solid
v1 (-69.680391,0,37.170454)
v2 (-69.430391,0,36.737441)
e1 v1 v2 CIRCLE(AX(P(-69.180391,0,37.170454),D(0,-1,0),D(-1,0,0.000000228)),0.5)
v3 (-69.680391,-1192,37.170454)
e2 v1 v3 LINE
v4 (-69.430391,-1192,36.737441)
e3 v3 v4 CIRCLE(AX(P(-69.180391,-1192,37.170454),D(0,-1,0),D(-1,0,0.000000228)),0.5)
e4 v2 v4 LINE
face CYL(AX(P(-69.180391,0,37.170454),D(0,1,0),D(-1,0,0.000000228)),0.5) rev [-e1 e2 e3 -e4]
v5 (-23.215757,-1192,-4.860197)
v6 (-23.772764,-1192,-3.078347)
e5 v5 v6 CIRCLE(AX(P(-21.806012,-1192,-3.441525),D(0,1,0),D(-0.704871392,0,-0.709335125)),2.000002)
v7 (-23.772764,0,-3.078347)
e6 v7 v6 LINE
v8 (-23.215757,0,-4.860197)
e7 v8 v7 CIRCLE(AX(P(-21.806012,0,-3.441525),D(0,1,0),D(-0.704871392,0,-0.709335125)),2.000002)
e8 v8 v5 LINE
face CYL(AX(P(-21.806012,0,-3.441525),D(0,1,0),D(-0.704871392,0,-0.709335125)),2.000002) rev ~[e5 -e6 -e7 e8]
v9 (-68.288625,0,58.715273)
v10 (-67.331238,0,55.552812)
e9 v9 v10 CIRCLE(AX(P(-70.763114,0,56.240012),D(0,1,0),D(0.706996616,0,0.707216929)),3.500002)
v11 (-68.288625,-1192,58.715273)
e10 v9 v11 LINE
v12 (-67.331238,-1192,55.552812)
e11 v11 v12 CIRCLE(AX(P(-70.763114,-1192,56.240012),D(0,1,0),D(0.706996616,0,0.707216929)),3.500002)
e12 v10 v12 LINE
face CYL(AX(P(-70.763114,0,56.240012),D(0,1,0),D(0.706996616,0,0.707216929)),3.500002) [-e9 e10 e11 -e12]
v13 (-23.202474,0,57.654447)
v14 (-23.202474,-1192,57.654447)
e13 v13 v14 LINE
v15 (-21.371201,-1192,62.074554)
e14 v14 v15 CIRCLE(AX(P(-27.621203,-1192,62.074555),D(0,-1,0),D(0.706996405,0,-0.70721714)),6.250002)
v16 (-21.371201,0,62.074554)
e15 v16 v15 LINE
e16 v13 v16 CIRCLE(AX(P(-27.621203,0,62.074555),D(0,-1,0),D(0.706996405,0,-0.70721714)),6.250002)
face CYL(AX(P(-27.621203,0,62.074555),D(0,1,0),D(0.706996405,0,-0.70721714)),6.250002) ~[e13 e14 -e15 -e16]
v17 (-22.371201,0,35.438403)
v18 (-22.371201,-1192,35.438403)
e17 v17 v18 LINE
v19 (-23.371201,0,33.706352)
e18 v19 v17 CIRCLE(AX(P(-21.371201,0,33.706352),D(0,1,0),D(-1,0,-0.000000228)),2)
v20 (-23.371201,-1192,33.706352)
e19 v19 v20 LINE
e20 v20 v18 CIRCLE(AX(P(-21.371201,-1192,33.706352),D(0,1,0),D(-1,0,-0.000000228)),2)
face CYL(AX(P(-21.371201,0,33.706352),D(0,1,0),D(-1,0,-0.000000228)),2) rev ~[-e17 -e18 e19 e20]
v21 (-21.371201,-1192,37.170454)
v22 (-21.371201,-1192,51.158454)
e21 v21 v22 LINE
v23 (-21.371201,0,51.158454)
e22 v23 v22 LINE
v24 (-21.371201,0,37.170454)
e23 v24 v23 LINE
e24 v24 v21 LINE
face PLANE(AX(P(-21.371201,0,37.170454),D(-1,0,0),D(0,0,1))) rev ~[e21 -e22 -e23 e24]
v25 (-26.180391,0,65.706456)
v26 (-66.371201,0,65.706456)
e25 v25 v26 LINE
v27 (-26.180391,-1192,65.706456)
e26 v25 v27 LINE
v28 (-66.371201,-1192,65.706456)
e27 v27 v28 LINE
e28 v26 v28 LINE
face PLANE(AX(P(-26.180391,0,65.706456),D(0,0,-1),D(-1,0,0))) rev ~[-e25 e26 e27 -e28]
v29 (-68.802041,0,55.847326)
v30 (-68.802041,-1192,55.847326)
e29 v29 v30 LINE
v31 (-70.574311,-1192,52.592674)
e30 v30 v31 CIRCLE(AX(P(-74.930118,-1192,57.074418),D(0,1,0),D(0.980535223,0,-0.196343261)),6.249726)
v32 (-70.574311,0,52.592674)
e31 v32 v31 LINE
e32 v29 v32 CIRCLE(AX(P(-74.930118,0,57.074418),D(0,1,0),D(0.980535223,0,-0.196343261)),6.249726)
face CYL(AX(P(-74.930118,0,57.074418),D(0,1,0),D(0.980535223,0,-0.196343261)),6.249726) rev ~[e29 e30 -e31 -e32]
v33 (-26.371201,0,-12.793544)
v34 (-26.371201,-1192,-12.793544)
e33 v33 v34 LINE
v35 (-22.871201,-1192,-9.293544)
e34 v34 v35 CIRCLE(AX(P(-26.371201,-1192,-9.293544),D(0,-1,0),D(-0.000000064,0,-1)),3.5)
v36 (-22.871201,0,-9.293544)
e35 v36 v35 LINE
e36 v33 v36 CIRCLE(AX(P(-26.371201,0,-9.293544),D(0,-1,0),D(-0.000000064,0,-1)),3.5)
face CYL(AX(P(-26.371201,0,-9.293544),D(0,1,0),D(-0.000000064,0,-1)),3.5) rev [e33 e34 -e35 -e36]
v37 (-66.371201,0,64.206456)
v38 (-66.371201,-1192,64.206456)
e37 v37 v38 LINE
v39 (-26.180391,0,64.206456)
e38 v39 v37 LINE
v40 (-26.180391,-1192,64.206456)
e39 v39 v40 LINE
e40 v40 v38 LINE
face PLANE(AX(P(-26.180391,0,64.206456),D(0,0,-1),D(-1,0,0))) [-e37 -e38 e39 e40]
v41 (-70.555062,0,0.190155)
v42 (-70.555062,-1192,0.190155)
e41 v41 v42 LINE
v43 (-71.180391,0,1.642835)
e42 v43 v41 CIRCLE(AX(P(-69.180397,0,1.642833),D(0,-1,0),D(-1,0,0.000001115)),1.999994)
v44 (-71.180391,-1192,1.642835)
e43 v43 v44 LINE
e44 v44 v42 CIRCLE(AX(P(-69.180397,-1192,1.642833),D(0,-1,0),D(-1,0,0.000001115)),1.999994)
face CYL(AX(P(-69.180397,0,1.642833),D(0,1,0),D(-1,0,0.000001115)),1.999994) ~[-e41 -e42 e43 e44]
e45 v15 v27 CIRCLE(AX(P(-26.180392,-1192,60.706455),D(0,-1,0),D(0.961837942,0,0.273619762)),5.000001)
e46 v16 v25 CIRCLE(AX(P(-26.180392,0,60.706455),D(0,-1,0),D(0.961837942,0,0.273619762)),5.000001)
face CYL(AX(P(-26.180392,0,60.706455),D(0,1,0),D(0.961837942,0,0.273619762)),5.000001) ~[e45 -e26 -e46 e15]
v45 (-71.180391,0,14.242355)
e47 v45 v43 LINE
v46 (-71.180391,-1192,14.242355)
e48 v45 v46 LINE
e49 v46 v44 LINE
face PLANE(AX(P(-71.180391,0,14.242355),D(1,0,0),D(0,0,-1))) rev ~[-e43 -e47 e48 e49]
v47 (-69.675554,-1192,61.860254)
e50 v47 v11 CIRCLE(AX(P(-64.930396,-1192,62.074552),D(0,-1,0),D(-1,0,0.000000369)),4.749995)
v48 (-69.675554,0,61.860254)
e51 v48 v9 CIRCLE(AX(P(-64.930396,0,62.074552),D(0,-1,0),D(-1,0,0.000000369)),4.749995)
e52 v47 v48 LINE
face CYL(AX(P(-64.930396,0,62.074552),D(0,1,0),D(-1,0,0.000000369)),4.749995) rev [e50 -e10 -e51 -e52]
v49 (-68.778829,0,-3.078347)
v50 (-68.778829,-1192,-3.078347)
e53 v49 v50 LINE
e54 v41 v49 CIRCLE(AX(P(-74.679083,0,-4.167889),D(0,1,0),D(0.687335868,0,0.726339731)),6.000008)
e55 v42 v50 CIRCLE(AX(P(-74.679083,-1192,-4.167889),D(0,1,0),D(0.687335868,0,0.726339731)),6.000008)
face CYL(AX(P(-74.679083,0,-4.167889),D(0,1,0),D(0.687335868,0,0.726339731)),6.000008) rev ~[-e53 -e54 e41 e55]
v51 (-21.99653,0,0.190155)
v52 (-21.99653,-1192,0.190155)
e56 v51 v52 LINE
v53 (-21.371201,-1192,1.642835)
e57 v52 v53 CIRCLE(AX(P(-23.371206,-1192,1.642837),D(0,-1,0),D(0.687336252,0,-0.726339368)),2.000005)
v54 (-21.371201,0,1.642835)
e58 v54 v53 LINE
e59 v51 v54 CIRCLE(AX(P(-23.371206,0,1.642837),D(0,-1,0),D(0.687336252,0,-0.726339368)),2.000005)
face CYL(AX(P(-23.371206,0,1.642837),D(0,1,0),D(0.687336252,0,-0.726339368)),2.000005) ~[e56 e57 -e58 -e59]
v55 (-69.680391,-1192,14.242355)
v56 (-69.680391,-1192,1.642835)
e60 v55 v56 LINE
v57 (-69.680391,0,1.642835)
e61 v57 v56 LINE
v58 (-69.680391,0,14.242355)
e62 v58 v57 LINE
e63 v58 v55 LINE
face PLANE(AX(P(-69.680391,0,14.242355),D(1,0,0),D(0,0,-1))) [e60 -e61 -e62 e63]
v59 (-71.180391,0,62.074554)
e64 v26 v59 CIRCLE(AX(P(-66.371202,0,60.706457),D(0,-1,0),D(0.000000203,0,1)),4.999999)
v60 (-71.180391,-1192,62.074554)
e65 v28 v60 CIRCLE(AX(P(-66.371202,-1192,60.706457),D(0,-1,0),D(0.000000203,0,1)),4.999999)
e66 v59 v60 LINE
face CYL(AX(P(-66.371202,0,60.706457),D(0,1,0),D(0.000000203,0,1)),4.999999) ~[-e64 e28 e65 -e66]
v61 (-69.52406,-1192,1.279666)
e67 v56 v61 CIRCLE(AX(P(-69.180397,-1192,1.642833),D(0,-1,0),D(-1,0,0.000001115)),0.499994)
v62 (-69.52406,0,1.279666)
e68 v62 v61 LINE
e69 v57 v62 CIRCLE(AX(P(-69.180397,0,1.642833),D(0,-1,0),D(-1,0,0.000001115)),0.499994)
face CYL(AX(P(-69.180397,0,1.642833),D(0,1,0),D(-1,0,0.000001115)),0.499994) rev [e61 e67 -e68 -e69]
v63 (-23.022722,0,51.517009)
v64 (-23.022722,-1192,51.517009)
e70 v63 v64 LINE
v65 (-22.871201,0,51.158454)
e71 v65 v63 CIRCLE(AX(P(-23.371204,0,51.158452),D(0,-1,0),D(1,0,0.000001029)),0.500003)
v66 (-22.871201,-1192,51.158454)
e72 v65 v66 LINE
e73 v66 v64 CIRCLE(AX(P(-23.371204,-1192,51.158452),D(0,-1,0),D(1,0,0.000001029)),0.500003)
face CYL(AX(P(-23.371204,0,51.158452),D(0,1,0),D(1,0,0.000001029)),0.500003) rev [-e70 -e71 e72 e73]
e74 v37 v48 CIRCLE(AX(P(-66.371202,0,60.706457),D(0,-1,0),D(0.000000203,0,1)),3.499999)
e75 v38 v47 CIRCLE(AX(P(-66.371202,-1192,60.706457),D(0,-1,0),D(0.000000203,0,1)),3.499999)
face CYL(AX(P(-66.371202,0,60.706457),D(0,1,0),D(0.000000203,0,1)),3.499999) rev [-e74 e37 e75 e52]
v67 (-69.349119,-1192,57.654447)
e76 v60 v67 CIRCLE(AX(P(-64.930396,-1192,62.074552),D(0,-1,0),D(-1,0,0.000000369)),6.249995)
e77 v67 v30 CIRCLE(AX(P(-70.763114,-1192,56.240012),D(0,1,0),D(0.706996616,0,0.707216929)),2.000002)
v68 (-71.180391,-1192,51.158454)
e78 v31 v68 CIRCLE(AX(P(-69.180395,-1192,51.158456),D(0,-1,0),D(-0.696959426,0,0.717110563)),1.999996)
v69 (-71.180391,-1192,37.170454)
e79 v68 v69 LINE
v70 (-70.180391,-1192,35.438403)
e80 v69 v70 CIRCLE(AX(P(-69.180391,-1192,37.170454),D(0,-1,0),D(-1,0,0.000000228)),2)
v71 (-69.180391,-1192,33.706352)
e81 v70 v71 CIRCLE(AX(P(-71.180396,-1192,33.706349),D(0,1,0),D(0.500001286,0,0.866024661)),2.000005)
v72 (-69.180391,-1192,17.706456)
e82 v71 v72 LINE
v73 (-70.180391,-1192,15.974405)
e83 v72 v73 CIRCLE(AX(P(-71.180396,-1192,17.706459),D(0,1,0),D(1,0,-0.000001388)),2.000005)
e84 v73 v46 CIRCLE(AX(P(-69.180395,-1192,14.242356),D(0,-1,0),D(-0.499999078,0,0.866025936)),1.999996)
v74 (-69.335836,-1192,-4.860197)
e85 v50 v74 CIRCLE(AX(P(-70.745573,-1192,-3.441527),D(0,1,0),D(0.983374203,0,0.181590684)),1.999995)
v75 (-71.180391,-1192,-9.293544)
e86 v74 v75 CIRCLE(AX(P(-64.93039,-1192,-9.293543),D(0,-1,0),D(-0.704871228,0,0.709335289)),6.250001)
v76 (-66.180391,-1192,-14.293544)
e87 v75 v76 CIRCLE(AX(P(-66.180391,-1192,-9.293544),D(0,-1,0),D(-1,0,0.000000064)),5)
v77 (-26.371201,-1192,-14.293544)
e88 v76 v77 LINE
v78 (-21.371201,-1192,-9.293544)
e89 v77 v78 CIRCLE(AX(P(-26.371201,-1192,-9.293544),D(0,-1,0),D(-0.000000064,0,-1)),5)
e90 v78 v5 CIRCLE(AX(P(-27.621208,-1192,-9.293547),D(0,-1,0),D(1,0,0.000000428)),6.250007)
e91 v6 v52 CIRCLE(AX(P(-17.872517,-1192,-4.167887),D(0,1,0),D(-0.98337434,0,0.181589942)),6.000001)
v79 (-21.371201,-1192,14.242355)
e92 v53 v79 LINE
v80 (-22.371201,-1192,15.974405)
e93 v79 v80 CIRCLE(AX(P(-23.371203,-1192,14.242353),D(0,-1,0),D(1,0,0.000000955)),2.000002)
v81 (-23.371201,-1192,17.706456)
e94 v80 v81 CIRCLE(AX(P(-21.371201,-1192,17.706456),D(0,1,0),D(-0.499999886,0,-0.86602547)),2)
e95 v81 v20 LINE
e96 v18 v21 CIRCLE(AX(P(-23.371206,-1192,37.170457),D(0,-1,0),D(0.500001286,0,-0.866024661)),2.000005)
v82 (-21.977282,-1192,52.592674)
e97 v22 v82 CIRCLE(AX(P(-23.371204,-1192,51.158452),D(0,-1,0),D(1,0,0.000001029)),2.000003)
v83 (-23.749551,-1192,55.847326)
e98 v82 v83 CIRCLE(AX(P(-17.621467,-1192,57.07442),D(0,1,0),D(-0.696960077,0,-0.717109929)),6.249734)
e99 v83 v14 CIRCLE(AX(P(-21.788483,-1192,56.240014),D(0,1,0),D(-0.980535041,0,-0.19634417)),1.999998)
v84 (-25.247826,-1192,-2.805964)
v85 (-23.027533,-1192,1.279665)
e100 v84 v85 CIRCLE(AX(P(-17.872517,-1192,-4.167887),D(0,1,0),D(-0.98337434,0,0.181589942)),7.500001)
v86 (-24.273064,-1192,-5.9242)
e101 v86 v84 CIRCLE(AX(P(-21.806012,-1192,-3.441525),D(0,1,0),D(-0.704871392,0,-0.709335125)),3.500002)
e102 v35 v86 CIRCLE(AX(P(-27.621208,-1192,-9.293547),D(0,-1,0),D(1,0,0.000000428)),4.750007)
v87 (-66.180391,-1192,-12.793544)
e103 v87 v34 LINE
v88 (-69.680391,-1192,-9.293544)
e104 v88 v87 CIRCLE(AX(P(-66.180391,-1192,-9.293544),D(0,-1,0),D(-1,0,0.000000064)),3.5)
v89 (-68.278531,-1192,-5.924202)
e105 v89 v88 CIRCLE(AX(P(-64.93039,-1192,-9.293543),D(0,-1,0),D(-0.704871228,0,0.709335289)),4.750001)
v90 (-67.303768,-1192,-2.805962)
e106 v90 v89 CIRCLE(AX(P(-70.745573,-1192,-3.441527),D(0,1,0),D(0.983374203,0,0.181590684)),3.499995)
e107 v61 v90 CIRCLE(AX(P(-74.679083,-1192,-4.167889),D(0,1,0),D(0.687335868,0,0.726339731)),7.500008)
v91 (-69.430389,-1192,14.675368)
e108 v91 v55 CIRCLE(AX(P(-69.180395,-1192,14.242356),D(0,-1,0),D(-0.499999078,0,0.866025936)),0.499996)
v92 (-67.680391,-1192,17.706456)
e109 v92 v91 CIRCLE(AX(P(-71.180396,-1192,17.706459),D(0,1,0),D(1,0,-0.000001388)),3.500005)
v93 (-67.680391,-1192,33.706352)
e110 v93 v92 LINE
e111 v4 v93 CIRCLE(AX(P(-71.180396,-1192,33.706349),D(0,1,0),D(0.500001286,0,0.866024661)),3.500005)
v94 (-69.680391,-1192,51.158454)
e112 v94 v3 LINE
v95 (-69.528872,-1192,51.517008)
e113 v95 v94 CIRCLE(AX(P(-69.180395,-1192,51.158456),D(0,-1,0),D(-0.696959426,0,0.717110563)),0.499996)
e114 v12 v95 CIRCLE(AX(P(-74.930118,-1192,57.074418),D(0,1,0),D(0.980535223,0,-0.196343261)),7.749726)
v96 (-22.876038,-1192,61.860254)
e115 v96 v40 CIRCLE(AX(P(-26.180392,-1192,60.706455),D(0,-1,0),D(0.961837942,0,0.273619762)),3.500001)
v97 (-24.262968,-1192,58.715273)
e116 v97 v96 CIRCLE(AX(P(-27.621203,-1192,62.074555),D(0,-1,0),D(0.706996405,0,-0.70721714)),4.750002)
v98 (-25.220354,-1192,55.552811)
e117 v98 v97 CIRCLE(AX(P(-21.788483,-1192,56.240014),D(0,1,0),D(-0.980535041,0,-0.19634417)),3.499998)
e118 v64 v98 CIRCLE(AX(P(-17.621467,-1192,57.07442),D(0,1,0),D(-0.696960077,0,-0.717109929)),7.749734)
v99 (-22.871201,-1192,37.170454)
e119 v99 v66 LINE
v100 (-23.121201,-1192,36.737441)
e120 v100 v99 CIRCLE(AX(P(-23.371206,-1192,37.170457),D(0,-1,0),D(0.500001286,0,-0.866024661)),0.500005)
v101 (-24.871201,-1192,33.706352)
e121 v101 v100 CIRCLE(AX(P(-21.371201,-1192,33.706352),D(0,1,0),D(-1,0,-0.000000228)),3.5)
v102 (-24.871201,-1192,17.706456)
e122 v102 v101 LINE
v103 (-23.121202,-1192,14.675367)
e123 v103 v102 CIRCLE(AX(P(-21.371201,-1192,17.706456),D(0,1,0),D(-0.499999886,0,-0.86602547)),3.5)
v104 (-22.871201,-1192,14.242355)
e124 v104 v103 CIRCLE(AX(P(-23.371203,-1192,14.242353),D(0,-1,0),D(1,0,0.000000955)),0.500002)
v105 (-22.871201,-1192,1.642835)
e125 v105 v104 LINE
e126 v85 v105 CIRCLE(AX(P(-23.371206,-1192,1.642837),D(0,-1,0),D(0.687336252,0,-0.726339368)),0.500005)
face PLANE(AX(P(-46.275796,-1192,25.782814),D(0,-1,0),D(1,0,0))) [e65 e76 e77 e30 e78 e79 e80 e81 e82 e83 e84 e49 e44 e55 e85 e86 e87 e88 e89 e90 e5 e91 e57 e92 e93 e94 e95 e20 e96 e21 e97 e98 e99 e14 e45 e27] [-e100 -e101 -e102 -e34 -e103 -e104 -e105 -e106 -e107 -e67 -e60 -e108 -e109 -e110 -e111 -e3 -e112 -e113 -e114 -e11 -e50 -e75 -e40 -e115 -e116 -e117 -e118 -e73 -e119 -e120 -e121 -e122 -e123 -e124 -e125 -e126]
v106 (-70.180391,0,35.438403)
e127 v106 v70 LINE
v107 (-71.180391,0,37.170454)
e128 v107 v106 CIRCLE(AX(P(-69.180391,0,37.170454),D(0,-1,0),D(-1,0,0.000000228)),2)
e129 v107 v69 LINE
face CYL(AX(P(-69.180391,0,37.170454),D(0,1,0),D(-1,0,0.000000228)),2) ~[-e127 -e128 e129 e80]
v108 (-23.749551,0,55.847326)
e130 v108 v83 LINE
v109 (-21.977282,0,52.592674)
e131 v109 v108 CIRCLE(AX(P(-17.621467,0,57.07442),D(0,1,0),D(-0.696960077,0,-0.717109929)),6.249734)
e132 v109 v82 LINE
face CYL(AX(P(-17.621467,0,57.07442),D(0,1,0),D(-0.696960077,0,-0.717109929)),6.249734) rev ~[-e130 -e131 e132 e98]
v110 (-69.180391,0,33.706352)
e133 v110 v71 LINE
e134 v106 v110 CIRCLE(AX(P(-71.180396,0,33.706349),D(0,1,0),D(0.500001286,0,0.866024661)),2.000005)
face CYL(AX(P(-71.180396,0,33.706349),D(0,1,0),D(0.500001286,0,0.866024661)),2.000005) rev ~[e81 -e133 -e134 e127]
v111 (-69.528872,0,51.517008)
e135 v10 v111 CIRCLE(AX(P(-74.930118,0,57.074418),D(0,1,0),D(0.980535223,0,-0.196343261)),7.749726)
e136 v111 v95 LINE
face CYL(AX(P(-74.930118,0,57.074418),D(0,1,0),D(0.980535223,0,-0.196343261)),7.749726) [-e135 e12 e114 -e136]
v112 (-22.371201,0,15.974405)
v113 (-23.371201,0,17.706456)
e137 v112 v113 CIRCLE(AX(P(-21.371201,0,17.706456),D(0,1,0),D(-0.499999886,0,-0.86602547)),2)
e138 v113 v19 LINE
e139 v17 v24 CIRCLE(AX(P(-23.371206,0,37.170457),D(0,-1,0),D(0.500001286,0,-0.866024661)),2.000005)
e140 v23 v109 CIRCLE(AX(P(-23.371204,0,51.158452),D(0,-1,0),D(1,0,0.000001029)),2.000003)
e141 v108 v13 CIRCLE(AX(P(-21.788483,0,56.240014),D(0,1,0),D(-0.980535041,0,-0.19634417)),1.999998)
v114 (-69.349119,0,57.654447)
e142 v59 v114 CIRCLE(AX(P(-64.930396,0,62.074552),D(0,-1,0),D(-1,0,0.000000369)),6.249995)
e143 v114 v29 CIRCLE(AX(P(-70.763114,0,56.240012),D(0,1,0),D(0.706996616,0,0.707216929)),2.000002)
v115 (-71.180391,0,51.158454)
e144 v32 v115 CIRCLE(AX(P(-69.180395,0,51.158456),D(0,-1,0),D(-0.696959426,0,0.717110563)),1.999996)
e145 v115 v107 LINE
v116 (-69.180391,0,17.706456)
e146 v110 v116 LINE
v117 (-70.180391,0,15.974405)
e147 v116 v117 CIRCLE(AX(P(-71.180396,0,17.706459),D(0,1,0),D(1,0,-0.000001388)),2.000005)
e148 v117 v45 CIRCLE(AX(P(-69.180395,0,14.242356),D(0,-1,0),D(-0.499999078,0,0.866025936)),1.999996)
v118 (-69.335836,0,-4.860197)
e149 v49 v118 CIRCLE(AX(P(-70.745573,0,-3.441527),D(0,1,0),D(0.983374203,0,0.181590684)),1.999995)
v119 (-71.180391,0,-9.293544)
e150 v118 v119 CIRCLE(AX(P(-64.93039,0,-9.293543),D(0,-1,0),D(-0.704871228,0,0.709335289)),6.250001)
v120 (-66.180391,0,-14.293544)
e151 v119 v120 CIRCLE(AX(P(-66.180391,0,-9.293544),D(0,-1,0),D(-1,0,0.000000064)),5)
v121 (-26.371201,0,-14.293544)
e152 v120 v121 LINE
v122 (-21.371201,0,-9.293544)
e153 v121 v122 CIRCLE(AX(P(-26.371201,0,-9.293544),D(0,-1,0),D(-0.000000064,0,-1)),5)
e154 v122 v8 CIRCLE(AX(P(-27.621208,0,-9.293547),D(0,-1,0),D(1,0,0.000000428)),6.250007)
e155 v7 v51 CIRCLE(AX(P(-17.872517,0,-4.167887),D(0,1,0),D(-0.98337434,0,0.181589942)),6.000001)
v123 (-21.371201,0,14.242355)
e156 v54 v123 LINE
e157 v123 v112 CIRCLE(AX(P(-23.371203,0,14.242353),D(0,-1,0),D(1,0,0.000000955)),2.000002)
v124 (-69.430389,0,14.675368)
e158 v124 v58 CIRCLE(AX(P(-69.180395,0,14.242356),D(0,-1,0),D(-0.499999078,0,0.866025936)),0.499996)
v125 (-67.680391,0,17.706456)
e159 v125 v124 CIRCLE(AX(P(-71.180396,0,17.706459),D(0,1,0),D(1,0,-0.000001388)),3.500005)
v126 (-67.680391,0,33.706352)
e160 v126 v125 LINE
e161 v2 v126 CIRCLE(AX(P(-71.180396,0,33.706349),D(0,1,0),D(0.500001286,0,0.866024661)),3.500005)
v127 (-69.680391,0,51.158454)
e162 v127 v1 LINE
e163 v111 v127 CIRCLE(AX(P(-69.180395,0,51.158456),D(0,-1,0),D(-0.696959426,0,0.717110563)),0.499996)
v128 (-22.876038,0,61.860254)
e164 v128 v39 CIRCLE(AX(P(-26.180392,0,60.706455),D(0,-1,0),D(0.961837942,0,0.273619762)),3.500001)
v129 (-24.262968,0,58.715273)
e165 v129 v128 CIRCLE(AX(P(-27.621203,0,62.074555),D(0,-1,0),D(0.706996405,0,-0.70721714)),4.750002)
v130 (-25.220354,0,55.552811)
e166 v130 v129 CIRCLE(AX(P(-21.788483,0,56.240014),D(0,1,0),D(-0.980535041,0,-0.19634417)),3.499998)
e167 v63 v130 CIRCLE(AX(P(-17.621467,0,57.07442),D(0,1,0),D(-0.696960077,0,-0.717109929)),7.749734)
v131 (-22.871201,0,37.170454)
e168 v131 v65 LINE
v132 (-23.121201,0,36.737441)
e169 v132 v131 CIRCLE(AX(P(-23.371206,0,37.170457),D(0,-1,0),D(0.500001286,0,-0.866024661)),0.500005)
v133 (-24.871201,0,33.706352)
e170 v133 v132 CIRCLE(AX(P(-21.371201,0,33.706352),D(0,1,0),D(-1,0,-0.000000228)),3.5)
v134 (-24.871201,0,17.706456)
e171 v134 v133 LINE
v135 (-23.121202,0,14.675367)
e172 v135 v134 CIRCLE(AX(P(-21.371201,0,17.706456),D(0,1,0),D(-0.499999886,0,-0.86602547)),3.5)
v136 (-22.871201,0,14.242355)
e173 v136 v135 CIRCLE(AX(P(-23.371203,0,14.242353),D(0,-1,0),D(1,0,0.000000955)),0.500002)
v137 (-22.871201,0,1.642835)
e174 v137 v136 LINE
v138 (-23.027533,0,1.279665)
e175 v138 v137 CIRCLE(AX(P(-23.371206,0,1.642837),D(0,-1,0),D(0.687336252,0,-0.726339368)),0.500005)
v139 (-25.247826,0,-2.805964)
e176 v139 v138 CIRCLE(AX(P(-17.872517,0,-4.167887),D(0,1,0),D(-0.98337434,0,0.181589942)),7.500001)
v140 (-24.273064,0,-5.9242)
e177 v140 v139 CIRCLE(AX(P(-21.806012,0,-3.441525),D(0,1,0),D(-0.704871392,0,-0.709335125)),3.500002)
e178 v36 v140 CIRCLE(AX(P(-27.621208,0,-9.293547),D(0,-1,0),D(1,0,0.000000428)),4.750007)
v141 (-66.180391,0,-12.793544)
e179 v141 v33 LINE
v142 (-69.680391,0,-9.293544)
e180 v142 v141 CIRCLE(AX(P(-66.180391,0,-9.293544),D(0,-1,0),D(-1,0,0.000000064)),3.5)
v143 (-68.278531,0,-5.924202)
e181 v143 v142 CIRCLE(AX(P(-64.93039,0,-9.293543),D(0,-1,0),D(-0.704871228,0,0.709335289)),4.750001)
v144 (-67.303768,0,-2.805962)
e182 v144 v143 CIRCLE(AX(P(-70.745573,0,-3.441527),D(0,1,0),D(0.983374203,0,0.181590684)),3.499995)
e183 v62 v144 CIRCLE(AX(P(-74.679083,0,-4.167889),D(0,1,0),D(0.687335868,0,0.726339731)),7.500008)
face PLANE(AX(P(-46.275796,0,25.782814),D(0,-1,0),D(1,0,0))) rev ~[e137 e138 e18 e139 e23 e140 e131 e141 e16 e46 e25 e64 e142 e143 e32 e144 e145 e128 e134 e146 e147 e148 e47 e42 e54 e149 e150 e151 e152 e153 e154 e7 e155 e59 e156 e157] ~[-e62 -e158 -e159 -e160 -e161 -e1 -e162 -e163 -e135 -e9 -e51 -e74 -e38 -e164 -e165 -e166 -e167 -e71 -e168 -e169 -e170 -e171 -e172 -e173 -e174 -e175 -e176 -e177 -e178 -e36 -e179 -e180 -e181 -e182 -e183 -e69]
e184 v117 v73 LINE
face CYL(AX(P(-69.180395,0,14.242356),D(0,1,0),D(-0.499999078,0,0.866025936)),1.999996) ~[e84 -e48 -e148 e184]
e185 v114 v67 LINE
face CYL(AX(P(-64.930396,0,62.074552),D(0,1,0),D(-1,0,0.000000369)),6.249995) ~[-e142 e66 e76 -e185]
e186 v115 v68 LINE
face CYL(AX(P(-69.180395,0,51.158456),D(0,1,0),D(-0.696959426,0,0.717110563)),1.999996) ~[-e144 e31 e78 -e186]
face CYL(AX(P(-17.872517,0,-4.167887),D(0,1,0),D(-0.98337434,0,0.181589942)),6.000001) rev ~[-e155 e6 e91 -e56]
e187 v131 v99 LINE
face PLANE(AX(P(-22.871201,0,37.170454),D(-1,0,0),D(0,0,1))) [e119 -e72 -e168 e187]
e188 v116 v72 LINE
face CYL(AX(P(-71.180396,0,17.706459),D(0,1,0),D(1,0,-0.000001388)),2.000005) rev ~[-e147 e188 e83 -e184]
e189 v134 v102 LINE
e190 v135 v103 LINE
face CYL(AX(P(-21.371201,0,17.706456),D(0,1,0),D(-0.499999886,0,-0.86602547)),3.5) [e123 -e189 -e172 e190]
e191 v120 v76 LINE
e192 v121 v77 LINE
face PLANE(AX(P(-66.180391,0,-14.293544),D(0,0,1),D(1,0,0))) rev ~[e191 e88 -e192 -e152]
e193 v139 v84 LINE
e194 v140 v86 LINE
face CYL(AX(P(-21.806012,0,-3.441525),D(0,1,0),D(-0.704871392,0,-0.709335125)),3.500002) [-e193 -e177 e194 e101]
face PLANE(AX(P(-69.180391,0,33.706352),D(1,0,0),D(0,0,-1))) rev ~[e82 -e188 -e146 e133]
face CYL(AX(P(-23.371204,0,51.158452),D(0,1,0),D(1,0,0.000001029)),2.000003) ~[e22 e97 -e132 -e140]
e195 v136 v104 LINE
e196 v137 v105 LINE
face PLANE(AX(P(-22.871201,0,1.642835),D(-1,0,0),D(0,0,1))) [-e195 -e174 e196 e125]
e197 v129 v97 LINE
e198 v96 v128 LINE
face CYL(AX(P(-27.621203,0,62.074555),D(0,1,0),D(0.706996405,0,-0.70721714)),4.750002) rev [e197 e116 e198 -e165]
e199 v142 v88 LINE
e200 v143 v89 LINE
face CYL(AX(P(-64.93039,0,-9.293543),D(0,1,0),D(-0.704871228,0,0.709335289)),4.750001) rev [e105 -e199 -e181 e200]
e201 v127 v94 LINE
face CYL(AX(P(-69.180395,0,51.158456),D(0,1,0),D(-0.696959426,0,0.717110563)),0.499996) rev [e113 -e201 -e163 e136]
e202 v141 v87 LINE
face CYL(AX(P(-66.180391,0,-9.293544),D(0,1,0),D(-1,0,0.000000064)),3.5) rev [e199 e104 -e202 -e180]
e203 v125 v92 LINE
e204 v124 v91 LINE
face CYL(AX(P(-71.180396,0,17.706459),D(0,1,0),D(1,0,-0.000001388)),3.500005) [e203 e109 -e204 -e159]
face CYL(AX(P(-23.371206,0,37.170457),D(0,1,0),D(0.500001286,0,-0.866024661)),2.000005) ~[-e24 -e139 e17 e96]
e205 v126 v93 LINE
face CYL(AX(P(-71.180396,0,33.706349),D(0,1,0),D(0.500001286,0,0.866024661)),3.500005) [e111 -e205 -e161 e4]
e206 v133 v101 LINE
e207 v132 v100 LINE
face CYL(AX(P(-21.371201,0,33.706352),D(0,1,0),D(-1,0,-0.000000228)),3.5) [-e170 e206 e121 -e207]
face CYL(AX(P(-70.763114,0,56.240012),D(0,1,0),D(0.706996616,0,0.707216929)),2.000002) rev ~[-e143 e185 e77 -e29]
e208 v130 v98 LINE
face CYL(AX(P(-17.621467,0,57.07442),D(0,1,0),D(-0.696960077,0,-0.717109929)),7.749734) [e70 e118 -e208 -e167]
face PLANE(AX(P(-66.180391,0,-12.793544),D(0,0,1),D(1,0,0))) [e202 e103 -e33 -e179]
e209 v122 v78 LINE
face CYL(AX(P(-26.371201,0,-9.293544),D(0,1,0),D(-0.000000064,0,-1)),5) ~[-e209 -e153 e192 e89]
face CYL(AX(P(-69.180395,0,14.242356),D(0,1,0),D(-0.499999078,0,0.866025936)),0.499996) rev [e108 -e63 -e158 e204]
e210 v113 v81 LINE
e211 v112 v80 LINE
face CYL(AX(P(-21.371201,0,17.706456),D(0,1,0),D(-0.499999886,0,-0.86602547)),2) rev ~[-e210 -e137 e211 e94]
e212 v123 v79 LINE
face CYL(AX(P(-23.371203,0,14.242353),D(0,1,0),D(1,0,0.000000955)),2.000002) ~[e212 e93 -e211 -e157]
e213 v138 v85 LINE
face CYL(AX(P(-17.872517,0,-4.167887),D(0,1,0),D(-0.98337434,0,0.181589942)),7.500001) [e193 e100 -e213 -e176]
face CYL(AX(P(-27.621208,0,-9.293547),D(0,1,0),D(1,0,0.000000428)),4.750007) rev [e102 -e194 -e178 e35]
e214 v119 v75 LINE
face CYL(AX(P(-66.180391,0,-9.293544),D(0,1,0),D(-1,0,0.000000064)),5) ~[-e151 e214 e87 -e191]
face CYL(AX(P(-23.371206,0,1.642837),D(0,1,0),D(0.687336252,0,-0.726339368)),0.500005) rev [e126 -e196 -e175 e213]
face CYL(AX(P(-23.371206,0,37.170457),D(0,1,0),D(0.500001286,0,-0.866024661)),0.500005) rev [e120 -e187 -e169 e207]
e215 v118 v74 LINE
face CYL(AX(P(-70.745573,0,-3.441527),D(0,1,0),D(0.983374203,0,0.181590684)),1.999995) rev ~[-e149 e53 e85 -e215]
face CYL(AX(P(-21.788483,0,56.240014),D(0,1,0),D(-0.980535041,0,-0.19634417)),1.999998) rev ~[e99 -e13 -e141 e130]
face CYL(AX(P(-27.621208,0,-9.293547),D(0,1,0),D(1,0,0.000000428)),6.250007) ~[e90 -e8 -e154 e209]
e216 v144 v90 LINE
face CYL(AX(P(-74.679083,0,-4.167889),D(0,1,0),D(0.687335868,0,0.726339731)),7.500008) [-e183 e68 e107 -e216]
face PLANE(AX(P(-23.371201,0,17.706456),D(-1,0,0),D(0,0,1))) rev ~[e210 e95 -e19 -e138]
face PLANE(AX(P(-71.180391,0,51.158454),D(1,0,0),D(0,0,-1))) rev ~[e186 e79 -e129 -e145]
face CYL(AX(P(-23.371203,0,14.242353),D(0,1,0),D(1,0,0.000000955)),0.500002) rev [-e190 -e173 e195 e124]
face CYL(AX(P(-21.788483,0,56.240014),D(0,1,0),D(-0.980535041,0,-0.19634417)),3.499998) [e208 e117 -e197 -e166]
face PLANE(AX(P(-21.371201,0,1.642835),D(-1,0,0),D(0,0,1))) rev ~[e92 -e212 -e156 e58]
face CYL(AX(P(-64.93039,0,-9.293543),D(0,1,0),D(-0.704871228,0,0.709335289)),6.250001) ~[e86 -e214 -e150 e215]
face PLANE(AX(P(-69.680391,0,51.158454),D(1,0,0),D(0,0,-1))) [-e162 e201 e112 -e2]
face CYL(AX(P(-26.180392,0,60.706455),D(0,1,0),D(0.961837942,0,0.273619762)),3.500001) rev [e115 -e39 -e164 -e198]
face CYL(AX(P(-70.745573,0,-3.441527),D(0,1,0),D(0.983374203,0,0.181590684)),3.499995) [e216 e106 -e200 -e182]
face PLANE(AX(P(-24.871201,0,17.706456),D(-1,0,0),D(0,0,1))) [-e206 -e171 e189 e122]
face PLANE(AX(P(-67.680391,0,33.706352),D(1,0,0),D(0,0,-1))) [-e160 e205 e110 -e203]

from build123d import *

# Parameters (mm, degrees)
F1_DEPTH = 1192
F2_T     = -1.5


with BuildPart() as f1:
    # F0 (on Front) → F1 (new body)
    with BuildSketch(Plane.XZ):
        with BuildLine():
            Line((-26.180391, 65.706456), (-66.371201, 65.706456))
            ThreePointArc((-66.371201, 65.706456), (-69.384465, 64.696474), (-71.180391, 62.074554))
            ThreePointArc((-71.180391, 62.074554), (-70.704452, 59.682332), (-69.349119, 57.654447))
            ThreePointArc((-69.349119, 57.654447), (-68.848906, 56.819509), (-68.802041, 55.847326))
            ThreePointArc((-68.802041, 55.847326), (-69.441389, 54.085616), (-70.574311, 52.592674))
            ThreePointArc((-70.574311, 52.592674), (-71.022651, 51.936965), (-71.180391, 51.158454))
            Line((-71.180391, 51.158454), (-71.180391, 37.170454))
            ThreePointArc((-71.180391, 37.170454), (-70.912442, 36.170454), (-70.180391, 35.438403))
            ThreePointArc((-70.180391, 35.438403), (-69.448341, 34.706352), (-69.180391, 33.706352))
            Line((-69.180391, 33.706352), (-69.180391, 17.706456))
            ThreePointArc((-69.180391, 17.706456), (-69.448341, 16.706456), (-70.180391, 15.974405))
            ThreePointArc((-70.180391, 15.974405), (-70.912442, 15.242355), (-71.180391, 14.242355))
            Line((-71.180391, 14.242355), (-71.180391, 1.642835))
            ThreePointArc((-71.180391, 1.642835), (-71.017419, 0.852057), (-70.555062, 0.190155))
            ThreePointArc((-70.555062, 0.190155), (-69.407243, -1.302963), (-68.778829, -3.078347))
            ThreePointArc((-68.778829, -3.078347), (-68.836672, -4.038251), (-69.335836, -4.860197))
            ThreePointArc((-69.335836, -4.860197), (-70.700856, -6.892661), (-71.180391, -9.293544))
            ThreePointArc((-71.180391, -9.293544), (-69.715925, -12.829078), (-66.180391, -14.293544))
            Line((-66.180391, -14.293544), (-26.371201, -14.293544))
            ThreePointArc((-26.371201, -14.293544), (-22.835667, -12.829078), (-21.371201, -9.293544))
            ThreePointArc((-21.371201, -9.293544), (-21.850737, -6.892661), (-23.215757, -4.860197))
            ThreePointArc((-23.215757, -4.860197), (-23.71492, -4.038251), (-23.772764, -3.078347))
            ThreePointArc((-23.772764, -3.078347), (-23.14435, -1.302963), (-21.99653, 0.190155))
            ThreePointArc((-21.99653, 0.190155), (-21.534174, 0.852057), (-21.371201, 1.642835))
            Line((-21.371201, 1.642835), (-21.371201, 14.242355))
            ThreePointArc((-21.371201, 14.242355), (-21.639151, 15.242355), (-22.371201, 15.974405))
            ThreePointArc((-22.371201, 15.974405), (-23.103252, 16.706456), (-23.371201, 17.706456))
            Line((-23.371201, 17.706456), (-23.371201, 33.706352))
            ThreePointArc((-23.371201, 33.706352), (-23.103252, 34.706352), (-22.371201, 35.438403))
            ThreePointArc((-22.371201, 35.438403), (-21.639151, 36.170454), (-21.371201, 37.170454))
            Line((-21.371201, 37.170454), (-21.371201, 51.158454))
            ThreePointArc((-21.371201, 51.158454), (-21.528942, 51.936965), (-21.977282, 52.592674))
            ThreePointArc((-21.977282, 52.592674), (-23.110203, 54.085616), (-23.749551, 55.847326))
            ThreePointArc((-23.749551, 55.847326), (-23.702687, 56.819509), (-23.202474, 57.654447))
            ThreePointArc((-23.202474, 57.654447), (-21.847141, 59.682332), (-21.371201, 62.074554))
            ThreePointArc((-21.371201, 62.074554), (-23.167128, 64.696474), (-26.180391, 65.706456))
        make_face()
    extrude(amount=F1_DEPTH)

    # F2
    f2_openings = [f1.faces().sort_by_distance(p)[0] for p in [
        (-46.275796, -1192, 25.7149),
        (-46.275796, 0, 25.7149),
    ]]
    offset(amount=F2_T, openings=f2_openings)


solid = f1.part
